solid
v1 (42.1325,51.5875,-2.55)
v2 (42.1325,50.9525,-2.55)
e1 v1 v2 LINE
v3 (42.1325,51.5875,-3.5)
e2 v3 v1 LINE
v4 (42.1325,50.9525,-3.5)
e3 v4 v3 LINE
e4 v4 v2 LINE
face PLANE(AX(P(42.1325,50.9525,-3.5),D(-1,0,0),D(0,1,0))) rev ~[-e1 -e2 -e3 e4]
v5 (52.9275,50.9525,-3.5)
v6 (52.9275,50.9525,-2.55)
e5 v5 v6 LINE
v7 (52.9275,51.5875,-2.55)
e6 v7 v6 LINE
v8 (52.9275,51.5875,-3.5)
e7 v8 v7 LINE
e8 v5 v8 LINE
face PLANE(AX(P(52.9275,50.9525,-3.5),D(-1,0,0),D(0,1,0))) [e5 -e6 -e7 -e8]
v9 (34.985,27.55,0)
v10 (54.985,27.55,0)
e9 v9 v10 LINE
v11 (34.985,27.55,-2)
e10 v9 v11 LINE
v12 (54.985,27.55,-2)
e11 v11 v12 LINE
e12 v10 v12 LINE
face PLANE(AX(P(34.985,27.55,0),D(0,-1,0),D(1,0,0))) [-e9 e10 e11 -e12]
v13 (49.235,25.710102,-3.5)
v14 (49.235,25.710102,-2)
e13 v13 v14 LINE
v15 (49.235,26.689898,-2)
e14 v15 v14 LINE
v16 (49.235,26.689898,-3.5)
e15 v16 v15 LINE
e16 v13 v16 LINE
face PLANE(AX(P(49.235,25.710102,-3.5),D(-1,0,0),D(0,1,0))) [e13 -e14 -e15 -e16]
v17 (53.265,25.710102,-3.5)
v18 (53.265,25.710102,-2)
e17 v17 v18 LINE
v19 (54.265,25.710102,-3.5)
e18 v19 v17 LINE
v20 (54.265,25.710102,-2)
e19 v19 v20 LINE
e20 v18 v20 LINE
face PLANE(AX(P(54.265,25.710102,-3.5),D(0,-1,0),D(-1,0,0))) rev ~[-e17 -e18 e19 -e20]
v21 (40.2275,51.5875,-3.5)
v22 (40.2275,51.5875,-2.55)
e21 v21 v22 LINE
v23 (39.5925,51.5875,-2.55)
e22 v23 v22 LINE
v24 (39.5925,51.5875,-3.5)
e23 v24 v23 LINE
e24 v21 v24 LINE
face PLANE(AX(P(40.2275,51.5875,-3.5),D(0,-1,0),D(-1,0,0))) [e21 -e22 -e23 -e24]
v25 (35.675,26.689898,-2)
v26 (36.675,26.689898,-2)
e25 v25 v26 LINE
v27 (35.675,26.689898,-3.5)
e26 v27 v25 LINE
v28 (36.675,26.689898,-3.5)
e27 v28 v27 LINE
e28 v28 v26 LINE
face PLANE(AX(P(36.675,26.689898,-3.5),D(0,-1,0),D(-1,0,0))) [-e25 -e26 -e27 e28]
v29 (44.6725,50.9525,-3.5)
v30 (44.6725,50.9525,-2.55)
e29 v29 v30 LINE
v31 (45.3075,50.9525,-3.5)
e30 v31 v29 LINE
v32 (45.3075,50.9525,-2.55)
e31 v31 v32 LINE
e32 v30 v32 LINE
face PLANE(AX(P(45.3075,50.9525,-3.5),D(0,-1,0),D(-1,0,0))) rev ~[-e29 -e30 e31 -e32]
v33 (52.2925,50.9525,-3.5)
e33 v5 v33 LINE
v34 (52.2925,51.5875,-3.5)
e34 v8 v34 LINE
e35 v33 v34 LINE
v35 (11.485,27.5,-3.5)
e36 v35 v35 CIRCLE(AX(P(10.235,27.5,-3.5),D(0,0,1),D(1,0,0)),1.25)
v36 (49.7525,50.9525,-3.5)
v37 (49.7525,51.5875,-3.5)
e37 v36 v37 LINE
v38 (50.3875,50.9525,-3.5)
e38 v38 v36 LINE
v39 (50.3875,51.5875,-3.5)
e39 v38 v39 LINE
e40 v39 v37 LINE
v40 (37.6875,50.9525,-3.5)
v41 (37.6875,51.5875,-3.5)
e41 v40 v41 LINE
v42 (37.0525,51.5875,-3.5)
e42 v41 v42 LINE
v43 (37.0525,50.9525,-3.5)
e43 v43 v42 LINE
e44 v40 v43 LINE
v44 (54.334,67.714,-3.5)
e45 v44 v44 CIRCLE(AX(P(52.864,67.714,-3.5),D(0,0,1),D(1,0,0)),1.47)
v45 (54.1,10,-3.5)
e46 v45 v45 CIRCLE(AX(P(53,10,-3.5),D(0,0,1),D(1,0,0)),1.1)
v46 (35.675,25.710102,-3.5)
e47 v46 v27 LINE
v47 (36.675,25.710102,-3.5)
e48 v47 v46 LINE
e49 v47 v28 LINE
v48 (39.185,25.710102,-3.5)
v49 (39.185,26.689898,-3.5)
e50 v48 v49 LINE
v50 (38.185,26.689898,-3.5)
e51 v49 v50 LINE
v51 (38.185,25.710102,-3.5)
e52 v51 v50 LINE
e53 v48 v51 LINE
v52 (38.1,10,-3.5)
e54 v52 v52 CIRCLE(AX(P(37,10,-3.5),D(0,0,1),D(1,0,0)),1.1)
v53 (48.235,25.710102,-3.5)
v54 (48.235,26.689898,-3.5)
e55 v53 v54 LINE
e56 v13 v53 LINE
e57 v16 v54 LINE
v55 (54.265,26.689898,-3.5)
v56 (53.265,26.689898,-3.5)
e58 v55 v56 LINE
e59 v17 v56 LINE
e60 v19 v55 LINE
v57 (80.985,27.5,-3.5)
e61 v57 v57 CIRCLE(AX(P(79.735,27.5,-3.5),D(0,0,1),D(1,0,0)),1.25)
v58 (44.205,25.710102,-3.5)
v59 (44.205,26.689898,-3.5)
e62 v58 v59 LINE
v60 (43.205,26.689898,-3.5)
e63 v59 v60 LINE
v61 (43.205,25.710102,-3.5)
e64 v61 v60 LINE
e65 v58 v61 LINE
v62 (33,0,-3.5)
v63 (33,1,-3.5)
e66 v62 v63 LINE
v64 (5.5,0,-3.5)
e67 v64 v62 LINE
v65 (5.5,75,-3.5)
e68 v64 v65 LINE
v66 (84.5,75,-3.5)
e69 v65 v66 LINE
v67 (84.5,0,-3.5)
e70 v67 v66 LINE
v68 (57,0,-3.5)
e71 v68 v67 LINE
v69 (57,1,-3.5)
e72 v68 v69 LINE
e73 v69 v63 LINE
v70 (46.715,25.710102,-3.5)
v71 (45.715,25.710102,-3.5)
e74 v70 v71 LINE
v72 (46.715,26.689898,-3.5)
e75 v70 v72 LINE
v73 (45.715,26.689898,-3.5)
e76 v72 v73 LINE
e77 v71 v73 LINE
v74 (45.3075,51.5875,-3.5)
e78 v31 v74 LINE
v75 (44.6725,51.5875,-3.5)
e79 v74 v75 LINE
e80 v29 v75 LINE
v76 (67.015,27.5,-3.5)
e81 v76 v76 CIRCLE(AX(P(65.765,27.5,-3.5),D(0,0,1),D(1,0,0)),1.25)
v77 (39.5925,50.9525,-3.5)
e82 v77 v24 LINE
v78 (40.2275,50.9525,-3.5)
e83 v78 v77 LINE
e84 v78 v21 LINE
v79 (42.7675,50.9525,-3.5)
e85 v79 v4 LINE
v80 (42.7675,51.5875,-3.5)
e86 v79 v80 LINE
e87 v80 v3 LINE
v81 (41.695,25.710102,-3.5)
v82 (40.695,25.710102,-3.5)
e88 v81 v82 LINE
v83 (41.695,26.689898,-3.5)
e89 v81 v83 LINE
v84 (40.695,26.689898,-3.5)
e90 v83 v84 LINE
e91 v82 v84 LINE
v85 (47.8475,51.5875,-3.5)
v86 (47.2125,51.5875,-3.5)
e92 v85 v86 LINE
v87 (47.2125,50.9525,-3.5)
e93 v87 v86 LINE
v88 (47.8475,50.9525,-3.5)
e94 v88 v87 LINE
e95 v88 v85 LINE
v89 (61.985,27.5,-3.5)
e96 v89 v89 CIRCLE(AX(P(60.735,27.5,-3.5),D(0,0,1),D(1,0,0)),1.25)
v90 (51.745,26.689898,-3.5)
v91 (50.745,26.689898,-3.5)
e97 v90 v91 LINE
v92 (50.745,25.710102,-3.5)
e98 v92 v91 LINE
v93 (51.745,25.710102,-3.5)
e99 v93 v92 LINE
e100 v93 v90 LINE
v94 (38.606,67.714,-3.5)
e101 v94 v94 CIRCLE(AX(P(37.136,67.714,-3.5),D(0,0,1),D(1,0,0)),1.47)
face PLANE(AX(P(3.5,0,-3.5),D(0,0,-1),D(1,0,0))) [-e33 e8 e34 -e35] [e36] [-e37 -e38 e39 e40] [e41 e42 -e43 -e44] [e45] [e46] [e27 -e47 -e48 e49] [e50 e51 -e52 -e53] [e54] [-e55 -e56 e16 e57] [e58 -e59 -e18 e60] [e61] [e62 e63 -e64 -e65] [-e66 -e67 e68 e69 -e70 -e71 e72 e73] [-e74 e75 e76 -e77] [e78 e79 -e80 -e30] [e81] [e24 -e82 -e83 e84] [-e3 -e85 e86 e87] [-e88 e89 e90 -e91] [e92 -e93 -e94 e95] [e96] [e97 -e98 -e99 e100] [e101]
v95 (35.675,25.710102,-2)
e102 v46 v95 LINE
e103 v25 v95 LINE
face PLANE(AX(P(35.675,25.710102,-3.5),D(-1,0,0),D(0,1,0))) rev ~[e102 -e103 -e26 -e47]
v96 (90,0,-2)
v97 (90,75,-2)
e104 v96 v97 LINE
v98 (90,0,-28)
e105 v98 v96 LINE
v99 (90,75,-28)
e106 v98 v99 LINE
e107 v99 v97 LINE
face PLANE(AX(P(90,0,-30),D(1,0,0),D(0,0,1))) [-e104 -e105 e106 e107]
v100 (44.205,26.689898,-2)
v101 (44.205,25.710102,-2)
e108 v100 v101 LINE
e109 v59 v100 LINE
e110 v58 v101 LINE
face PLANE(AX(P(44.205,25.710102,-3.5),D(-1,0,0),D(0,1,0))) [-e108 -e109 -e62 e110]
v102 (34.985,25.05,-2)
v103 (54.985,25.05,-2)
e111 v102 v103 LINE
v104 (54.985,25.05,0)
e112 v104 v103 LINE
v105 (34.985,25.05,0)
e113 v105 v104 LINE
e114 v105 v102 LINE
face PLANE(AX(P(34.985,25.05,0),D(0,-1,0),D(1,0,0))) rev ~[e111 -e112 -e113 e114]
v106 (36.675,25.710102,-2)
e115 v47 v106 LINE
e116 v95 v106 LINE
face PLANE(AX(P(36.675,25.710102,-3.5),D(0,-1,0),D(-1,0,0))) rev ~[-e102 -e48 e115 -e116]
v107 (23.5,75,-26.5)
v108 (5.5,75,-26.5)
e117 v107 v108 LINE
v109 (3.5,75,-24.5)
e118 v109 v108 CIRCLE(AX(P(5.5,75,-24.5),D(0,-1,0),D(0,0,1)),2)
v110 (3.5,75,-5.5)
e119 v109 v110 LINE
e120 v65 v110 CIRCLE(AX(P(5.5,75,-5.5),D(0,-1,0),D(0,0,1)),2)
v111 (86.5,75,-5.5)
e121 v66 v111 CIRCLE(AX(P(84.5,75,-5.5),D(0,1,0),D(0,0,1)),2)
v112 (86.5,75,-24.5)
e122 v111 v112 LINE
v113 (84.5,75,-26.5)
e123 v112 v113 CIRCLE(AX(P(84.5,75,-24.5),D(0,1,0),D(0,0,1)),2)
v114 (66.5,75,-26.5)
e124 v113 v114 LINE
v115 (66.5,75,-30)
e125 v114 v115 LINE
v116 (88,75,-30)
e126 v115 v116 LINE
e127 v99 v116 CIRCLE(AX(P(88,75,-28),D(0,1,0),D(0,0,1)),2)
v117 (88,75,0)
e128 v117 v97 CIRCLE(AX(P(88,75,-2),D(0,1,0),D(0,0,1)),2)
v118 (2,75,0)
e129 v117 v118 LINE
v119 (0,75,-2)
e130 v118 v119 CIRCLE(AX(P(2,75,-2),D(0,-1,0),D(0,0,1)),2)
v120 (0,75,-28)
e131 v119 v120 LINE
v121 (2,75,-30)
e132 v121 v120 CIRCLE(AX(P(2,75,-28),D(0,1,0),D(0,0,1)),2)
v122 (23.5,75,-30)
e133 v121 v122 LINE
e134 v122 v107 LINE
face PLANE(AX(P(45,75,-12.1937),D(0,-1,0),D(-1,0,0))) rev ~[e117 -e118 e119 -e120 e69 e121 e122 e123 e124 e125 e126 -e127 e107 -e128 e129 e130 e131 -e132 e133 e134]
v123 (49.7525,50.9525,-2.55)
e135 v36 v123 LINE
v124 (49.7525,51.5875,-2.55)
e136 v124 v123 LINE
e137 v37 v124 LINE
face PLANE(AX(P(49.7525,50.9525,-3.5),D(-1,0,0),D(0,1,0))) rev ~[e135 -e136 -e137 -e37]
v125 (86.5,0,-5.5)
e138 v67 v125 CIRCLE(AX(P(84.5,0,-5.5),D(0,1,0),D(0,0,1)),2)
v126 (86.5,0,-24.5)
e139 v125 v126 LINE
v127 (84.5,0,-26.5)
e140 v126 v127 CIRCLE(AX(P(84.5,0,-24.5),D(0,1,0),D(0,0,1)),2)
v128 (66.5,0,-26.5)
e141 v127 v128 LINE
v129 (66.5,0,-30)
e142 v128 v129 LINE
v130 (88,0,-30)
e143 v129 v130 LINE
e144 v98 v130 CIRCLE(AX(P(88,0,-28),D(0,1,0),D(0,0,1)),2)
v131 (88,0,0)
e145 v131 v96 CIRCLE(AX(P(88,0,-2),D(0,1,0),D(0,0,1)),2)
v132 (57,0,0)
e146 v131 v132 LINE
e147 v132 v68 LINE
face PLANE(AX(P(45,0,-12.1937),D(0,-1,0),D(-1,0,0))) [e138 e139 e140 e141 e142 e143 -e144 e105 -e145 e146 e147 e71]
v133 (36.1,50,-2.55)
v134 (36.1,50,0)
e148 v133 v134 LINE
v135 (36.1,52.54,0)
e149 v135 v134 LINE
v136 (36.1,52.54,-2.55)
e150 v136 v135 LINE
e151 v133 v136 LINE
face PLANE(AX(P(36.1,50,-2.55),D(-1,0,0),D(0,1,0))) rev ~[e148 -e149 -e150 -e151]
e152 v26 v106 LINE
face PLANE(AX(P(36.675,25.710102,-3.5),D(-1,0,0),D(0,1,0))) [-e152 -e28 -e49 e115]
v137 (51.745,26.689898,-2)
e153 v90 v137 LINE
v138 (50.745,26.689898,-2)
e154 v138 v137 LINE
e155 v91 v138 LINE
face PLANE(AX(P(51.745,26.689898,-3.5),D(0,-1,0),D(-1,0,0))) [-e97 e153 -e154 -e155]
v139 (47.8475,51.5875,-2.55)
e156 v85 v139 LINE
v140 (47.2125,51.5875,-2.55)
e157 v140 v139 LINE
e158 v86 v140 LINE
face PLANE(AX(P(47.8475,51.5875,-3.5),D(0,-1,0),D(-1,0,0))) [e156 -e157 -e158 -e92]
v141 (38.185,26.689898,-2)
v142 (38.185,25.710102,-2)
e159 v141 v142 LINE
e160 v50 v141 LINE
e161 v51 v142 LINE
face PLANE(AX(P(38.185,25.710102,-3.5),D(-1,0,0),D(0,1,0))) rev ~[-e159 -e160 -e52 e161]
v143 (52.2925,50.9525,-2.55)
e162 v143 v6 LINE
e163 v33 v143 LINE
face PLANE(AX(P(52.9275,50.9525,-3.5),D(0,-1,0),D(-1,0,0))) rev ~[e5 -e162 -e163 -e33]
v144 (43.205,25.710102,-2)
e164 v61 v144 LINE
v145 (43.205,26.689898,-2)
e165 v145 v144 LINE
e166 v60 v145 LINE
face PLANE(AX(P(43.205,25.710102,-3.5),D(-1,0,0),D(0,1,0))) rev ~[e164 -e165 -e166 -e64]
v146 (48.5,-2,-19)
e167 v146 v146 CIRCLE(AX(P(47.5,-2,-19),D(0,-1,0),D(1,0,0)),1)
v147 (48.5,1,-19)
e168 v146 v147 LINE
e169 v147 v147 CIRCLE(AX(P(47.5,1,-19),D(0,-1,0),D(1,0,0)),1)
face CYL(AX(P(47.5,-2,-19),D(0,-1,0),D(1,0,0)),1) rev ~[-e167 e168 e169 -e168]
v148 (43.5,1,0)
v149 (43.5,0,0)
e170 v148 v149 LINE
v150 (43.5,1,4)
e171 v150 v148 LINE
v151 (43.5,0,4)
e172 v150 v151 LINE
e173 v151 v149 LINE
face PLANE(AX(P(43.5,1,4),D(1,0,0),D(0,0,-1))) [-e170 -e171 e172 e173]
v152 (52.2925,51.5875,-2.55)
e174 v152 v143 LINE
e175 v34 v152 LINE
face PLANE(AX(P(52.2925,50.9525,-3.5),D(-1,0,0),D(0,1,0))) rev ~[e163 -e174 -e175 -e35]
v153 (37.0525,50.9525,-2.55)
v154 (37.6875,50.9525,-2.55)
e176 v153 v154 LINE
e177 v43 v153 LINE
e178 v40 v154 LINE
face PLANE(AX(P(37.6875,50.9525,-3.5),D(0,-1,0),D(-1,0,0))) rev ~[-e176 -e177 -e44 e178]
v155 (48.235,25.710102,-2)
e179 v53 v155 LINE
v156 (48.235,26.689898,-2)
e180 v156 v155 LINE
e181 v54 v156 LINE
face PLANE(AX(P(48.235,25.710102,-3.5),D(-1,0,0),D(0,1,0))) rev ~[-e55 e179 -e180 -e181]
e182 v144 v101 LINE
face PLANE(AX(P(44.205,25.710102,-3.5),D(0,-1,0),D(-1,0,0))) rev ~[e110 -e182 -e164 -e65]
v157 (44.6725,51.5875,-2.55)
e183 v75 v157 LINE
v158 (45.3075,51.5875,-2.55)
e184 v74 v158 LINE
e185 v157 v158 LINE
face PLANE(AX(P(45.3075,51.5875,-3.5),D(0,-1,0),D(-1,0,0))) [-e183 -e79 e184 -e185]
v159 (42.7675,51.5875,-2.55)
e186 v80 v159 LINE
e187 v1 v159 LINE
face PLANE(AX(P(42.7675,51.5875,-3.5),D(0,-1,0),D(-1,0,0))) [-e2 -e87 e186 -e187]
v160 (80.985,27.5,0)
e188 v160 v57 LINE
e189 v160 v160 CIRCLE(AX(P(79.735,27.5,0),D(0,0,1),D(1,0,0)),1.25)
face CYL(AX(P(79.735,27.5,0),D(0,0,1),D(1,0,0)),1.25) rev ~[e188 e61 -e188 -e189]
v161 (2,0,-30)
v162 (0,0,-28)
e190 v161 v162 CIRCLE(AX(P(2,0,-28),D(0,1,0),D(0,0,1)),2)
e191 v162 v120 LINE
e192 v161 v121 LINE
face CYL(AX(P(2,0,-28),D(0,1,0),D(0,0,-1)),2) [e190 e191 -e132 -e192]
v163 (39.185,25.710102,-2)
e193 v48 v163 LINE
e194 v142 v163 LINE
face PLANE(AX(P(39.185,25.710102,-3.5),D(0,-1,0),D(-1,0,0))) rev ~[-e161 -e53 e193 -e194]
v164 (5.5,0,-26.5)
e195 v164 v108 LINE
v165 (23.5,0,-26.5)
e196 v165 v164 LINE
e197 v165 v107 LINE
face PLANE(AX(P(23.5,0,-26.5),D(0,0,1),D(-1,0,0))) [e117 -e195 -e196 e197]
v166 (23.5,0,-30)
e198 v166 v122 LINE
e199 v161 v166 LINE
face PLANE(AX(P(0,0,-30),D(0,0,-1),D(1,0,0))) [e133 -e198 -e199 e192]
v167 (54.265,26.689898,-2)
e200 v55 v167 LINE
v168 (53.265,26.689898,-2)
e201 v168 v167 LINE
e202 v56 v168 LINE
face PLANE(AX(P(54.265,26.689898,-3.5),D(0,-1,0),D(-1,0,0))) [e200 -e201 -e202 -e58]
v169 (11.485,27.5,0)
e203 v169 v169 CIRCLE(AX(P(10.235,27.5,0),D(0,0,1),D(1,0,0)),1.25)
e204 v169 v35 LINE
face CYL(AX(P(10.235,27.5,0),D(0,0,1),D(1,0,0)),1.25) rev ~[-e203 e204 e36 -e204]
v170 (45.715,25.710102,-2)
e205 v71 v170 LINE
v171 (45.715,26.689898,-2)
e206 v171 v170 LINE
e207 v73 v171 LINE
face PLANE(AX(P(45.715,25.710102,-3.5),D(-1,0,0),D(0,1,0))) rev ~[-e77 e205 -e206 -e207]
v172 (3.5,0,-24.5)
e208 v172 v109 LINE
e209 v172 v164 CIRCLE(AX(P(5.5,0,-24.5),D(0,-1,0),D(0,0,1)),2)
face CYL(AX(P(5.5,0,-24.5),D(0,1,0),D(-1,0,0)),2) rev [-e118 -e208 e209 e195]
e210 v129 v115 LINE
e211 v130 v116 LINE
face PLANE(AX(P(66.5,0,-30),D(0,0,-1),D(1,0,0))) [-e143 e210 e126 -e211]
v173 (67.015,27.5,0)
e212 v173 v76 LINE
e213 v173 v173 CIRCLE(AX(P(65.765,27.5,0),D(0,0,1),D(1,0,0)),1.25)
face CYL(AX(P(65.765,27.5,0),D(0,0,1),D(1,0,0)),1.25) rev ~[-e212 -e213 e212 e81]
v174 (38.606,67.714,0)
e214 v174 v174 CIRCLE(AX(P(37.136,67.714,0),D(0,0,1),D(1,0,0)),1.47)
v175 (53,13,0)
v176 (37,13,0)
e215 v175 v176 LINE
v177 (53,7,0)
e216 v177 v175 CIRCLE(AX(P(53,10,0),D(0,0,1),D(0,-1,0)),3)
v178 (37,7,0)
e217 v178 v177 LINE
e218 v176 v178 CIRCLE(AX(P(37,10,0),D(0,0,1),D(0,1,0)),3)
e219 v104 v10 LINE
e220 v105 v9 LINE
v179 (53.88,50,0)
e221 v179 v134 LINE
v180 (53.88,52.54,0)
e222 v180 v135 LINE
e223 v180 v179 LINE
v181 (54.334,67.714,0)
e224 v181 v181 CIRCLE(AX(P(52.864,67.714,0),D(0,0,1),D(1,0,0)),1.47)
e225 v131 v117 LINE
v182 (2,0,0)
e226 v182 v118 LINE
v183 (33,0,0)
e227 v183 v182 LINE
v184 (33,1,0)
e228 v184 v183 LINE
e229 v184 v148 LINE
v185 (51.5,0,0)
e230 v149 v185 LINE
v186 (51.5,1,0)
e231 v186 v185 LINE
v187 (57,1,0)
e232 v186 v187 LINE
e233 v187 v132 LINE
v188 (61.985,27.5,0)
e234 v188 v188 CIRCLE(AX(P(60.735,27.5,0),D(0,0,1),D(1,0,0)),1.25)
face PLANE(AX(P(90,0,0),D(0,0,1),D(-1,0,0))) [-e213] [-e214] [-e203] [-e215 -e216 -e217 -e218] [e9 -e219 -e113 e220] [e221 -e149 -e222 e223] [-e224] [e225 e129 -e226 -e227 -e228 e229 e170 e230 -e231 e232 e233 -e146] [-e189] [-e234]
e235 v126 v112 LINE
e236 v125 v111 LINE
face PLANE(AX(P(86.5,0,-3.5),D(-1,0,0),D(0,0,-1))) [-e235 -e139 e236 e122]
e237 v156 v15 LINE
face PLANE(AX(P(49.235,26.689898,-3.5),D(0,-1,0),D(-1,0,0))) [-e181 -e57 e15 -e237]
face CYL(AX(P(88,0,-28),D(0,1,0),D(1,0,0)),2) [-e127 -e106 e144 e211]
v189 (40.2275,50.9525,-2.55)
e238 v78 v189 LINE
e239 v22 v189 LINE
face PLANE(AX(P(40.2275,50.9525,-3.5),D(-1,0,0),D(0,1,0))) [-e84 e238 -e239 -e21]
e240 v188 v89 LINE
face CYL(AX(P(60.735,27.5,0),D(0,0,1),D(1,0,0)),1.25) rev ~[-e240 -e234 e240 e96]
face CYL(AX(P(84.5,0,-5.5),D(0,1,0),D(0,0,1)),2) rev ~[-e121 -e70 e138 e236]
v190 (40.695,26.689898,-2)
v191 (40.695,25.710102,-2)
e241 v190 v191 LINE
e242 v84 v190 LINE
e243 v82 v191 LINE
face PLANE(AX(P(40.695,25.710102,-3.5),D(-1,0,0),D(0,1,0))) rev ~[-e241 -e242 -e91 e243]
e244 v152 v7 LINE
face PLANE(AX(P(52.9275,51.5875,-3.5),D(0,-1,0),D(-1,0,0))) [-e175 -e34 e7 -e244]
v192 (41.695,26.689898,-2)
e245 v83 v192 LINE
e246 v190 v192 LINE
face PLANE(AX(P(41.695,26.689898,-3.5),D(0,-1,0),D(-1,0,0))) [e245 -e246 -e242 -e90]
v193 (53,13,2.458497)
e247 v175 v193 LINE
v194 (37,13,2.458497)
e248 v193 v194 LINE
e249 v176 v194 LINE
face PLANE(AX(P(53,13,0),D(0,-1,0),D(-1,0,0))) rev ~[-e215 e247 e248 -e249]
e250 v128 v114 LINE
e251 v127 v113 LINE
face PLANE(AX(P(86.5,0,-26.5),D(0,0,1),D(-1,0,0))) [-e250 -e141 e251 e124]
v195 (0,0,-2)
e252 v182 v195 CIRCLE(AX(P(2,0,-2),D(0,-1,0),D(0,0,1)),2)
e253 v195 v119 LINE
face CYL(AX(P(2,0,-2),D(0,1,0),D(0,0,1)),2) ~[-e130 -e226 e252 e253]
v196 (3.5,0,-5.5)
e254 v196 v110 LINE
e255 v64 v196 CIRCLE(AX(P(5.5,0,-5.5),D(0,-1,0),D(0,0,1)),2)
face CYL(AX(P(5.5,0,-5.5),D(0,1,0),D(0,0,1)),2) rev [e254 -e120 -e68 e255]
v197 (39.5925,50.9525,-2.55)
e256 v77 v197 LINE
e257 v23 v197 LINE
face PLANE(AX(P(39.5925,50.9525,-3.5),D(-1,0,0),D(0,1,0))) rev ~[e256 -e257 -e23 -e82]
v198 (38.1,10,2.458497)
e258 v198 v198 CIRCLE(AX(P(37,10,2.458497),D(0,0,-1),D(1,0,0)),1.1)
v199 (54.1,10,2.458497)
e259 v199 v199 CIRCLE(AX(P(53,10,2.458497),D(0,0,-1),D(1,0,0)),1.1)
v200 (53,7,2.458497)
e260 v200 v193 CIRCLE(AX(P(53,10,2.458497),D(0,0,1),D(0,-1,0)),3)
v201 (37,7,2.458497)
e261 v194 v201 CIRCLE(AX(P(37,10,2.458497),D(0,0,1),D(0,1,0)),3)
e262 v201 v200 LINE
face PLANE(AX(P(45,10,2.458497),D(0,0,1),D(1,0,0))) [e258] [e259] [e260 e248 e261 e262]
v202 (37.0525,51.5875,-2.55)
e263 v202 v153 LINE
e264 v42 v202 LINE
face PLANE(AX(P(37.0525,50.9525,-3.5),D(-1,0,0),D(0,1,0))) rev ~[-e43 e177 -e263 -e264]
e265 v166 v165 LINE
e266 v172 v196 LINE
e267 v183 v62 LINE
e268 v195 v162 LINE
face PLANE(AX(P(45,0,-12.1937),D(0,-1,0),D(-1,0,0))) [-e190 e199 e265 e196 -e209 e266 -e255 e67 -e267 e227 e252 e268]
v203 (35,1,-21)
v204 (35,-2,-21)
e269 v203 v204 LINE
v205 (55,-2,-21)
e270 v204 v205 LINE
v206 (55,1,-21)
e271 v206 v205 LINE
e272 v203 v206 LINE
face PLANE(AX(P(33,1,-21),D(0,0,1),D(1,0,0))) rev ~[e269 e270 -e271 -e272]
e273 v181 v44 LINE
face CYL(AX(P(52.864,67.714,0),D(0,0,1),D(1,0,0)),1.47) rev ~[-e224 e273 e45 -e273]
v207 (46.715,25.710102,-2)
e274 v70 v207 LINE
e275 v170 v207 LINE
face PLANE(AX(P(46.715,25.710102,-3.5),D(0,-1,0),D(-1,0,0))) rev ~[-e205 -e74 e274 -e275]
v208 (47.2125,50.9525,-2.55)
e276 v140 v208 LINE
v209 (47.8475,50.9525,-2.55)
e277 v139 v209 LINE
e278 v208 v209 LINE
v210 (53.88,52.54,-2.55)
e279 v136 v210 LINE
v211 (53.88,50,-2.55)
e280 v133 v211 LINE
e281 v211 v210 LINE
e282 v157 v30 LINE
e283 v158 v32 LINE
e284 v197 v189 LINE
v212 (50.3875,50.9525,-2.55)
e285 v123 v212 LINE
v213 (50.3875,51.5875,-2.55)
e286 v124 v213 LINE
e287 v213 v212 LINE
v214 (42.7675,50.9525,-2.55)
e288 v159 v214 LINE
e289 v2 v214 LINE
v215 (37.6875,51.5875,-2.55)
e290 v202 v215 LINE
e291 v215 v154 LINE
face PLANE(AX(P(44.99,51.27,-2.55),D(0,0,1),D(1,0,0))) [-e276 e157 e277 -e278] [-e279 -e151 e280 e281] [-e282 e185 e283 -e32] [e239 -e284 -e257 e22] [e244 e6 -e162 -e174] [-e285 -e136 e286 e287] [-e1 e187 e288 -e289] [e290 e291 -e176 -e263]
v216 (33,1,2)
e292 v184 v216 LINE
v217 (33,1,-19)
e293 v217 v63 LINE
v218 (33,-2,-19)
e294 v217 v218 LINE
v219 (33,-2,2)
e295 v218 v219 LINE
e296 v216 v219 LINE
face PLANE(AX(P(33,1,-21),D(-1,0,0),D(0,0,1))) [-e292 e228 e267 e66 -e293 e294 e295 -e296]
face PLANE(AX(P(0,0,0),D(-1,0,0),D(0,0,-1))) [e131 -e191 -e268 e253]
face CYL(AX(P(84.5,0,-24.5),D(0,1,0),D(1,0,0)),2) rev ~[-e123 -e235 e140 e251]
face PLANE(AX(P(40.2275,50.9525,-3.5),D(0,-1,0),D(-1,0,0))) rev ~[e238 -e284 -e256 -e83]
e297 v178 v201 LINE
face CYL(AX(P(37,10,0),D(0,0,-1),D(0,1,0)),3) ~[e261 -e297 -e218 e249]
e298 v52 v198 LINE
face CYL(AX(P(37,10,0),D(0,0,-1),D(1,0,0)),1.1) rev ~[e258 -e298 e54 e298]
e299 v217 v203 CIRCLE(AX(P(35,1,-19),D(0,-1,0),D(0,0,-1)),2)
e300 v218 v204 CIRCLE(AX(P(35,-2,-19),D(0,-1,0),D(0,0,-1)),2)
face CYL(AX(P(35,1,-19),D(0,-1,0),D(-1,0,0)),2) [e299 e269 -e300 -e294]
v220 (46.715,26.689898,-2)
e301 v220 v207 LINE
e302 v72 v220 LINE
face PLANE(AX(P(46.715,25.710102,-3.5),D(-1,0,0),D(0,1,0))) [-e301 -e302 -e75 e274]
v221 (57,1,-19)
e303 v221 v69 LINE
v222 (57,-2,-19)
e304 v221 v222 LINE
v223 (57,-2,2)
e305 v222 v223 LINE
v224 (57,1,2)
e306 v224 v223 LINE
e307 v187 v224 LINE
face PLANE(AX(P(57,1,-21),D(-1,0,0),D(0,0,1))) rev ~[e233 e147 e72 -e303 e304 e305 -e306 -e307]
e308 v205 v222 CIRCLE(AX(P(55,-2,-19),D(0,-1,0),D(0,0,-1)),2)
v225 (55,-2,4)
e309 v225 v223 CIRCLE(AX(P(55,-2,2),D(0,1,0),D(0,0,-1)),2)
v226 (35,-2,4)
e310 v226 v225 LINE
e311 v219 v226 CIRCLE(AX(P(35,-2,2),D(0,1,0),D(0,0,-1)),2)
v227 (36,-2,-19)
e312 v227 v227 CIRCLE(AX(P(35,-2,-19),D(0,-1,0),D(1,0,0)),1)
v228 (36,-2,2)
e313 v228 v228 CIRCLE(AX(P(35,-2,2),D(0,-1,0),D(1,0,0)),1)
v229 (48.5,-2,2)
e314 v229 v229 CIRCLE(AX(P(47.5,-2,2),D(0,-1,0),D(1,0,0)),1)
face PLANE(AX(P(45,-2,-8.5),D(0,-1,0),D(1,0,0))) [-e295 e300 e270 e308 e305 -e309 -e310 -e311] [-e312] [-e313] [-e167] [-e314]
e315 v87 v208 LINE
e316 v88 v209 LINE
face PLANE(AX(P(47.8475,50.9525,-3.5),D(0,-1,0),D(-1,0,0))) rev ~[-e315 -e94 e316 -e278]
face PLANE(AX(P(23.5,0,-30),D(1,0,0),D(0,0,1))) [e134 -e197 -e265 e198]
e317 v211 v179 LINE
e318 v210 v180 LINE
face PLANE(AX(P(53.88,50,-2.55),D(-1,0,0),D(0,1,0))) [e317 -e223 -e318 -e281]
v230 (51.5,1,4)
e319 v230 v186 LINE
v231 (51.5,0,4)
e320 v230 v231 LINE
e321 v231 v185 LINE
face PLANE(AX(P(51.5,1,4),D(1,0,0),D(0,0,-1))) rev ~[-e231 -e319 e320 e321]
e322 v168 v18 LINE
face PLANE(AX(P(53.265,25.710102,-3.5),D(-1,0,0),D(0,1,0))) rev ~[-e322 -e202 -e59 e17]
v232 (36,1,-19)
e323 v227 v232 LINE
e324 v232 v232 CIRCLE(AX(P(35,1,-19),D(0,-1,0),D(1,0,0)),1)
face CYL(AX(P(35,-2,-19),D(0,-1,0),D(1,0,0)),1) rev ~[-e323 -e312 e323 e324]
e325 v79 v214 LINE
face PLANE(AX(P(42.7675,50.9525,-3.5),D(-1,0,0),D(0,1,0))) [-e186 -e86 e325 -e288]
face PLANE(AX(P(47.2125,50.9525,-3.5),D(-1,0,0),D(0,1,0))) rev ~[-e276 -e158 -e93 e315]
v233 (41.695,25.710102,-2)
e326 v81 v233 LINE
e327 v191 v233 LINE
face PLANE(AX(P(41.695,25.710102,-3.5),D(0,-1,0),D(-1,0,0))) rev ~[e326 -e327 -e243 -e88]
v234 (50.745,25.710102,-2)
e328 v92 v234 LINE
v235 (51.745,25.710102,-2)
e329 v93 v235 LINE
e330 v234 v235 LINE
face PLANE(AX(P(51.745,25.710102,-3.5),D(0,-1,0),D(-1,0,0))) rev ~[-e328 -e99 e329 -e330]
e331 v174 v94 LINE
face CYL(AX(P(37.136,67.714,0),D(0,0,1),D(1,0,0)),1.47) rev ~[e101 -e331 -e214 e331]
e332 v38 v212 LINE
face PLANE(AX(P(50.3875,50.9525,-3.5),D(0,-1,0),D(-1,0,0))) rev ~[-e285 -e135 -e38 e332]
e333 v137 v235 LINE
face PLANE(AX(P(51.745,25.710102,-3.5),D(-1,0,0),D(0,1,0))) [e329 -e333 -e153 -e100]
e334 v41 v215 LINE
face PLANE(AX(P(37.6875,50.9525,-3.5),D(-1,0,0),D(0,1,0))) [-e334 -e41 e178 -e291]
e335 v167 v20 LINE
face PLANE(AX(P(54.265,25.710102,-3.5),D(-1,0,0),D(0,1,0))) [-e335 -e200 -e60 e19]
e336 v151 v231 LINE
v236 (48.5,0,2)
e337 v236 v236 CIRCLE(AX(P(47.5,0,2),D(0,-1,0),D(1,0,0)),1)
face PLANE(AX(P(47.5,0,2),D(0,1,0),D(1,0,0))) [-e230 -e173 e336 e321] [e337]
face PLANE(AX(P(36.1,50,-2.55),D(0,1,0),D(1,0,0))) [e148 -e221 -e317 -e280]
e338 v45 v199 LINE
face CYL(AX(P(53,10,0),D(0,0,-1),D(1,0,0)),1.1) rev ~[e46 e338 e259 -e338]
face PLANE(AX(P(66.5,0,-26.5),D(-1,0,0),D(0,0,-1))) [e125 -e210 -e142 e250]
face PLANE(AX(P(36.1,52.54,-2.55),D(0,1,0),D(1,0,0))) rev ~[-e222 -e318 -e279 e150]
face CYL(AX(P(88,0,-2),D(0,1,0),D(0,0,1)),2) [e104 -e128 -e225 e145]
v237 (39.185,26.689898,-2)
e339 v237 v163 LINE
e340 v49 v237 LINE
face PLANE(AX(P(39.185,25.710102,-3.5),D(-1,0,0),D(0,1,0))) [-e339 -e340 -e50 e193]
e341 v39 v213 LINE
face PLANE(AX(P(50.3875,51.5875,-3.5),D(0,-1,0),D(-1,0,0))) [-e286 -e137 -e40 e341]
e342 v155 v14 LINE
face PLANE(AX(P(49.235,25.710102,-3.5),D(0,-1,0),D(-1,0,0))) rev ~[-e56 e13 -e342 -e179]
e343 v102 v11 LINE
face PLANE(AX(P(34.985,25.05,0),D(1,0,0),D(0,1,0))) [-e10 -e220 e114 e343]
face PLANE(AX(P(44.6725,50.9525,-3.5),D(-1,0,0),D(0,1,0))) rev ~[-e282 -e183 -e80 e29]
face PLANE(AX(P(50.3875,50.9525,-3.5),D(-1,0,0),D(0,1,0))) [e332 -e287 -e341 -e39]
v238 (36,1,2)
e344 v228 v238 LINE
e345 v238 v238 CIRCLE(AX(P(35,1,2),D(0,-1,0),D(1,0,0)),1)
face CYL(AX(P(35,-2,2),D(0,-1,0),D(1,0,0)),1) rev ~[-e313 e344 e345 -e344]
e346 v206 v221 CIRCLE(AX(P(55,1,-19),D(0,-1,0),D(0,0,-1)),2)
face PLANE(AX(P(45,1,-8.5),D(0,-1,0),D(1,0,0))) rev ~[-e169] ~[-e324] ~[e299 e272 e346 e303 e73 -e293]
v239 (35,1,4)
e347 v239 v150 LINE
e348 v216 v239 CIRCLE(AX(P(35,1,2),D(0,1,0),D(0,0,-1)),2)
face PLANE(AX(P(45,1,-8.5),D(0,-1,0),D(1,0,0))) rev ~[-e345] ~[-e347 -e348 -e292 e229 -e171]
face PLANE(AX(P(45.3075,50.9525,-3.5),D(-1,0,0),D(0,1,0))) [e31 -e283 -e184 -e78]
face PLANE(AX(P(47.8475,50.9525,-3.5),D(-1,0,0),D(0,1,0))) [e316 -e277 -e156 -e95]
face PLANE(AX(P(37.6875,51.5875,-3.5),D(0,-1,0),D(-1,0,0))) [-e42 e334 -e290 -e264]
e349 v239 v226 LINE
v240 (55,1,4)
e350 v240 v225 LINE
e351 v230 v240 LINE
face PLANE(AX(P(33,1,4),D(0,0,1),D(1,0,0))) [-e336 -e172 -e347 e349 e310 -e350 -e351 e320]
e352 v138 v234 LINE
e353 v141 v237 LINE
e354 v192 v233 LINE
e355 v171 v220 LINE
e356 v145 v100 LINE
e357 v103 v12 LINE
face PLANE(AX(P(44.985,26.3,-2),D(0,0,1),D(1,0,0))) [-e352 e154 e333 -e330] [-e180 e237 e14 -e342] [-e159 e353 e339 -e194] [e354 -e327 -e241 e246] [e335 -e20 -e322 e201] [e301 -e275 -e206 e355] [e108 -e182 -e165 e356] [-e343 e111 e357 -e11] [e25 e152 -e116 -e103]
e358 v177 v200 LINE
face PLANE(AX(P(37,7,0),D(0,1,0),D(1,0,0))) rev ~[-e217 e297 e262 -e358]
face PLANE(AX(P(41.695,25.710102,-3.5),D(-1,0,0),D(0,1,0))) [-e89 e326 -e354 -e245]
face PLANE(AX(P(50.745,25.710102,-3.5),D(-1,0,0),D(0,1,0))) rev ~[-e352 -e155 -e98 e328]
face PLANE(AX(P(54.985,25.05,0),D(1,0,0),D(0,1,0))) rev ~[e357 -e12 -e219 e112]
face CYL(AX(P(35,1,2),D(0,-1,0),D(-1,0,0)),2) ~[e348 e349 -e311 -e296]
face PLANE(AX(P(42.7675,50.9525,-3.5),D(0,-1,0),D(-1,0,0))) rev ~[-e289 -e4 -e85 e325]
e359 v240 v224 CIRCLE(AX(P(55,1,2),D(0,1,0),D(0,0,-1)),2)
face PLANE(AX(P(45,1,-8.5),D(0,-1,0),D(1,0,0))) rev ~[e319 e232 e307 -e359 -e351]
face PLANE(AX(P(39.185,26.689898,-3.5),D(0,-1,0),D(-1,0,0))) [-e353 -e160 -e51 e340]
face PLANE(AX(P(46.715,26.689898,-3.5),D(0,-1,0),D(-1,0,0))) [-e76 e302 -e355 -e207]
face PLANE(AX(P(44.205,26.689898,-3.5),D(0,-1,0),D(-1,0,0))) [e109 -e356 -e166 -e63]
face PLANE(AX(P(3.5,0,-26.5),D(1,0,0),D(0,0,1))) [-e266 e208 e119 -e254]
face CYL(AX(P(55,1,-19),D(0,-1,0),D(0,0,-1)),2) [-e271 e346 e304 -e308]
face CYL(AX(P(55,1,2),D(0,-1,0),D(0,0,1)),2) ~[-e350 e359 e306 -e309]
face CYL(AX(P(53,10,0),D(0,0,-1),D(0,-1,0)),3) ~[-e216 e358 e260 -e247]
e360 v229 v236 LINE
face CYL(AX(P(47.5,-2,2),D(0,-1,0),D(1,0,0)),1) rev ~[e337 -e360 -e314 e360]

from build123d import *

# Parameters (mm, degrees)
BOSS_EXTRUDE1_DEPTH      = 75
SKETCH2_R                = 1.1
CUT_EXTRUDE1_DEPTH       = 121.933866224
BOSS_EXTRUDE2_DEPTH      = 2.458497378
SKETCH4_R                = 1.1
CUT_EXTRUDE2_DEPTH       = 121.933866224
SKETCH5_W                = 20
SKETCH5_H                = 2.5
CUT_EXTRUDE3_DEPTH       = 2
CUT_EXTRUDE4_DEPTH       = 121.933866224
CUT_EXTRUDE4_DEPTH_BACK  = 2.55
SKETCH6_W                = 17.78
SKETCH6_H                = 2.54
SKETCH7_W                = 1
SKETCH7_H                = 0.979795898
CUT_EXTRUDE5_DEPTH       = 121.113488002
SKETCH8_W                = 0.635
SKETCH8_H                = 0.635
CUT_EXTRUDE6_DEPTH       = 121.113488002
BOSS_EXTRUDE3_DEPTH      = 2
BOSS_EXTRUDE3_DEPTH_BACK = 1
SKETCH9_W                = 24
SKETCH9_H                = 25
FILLET1_R                = 2
SKETCH10_R               = 1
CUT_EXTRUDE7_DEPTH       = 4
SKETCH11_W               = 8
SKETCH11_H               = 4
CUT_EXTRUDE8_DEPTH       = 1
FILLET2_R                = 2
SKETCH12_R               = 1.25
SKETCH12_R_2             = 1.47
CUT_EXTRUDE10_DEPTH      = 3.5


with BuildPart() as part:
    # Sketch1 → Boss-Extrude1 (new body)
    with BuildSketch(Plane(origin=(0, 0, 0), x_dir=(1, 0, 0), z_dir=(0, 1, 0))):
        Polygon((23.5, 30), (23.5, 26.5), (3.5, 26.5), (3.5, 3.5), (86.5, 3.5), (86.5, 26.5), (66.5, 26.5), (66.5, 30), (90, 30), (90, 0), (0, 0), (0, 30), align=None)
    extrude(amount=BOSS_EXTRUDE1_DEPTH)

    # Sketch2 → Cut-Extrude1 (cut, through all)
    with BuildSketch(Plane.XY):
        with Locations((53, 10)):
            Circle(SKETCH2_R)
        with Locations((37, 10)):
            Circle(SKETCH2_R)
    extrude(amount=-CUT_EXTRUDE1_DEPTH, mode=Mode.SUBTRACT)

    # Sketch3 → Boss-Extrude2 (add)
    with BuildSketch(Plane.XY):
        with BuildLine():
            Line((53, 13), (37, 13))
            ThreePointArc((37, 13), (34, 10), (37, 7))
            Line((37, 7), (53, 7))
            ThreePointArc((53, 7), (56, 10), (53, 13))
        make_face()
    extrude(amount=BOSS_EXTRUDE2_DEPTH)

    # Sketch4 → Cut-Extrude2 (cut, through all)
    with BuildSketch(Plane(origin=(0, 0, 0), x_dir=(-1, 0, 0), z_dir=(0, 0, -1))):
        with Locations(Location((-37, 10, 0), (0, 0, 180))):
            Circle(SKETCH4_R)
        with Locations(Location((-53, 10, 0), (0, 0, 180))):
            Circle(SKETCH4_R)
    extrude(amount=-CUT_EXTRUDE2_DEPTH, mode=Mode.SUBTRACT)

    # Sketch5 → Cut-Extrude3 (cut)
    with BuildSketch(Plane.XY):
        with Locations((44.985, 26.3)):
            Rectangle(SKETCH5_W, SKETCH5_H)
    extrude(amount=-CUT_EXTRUDE3_DEPTH, mode=Mode.SUBTRACT)

    # Sketch6 → Cut-Extrude4 (cut, two sides: drawn at the far end of the back side and taken through both)
    with BuildSketch(Plane.XY.offset(-CUT_EXTRUDE4_DEPTH_BACK)):
        with Locations((44.99, 51.27)):
            Rectangle(SKETCH6_W, SKETCH6_H)
    extrude(amount=CUT_EXTRUDE4_DEPTH + CUT_EXTRUDE4_DEPTH_BACK, mode=Mode.SUBTRACT)

    # Sketch7 → Cut-Extrude5 (cut, through all)
    with BuildSketch(Plane(origin=(0, 0, -3.5), x_dir=(-1, 0, 0), z_dir=(0, 0, -1))):
        with Locations((-53.765, 26.2)):
            Rectangle(SKETCH7_W, SKETCH7_H)
        with Locations((-51.245, 26.2)):
            Rectangle(SKETCH7_W, SKETCH7_H)
        with Locations((-48.735, 26.2)):
            Rectangle(SKETCH7_W, SKETCH7_H)
        with Locations((-46.215, 26.2)):
            Rectangle(SKETCH7_W, SKETCH7_H)
        with Locations((-43.705, 26.2)):
            Rectangle(SKETCH7_W, SKETCH7_H)
        with Locations((-41.195, 26.2)):
            Rectangle(SKETCH7_W, SKETCH7_H)
        with Locations((-38.685, 26.2)):
            Rectangle(SKETCH7_W, SKETCH7_H)
        with Locations((-36.175, 26.2)):
            Rectangle(SKETCH7_W, SKETCH7_H)
    extrude(amount=-CUT_EXTRUDE5_DEPTH, mode=Mode.SUBTRACT)

    # Sketch8 → Cut-Extrude6 (cut, through all)
    with BuildSketch(Plane(origin=(0, 0, -3.5), x_dir=(-1, 0, 0), z_dir=(0, 0, -1))):
        with Locations((-52.61, 51.27)):
            Rectangle(SKETCH8_W, SKETCH8_H)
        with Locations((-50.07, 51.27)):
            Rectangle(SKETCH8_W, SKETCH8_H)
        with Locations((-47.53, 51.27)):
            Rectangle(SKETCH8_W, SKETCH8_H)
        with Locations((-44.99, 51.27)):
            Rectangle(SKETCH8_W, SKETCH8_H)
        with Locations((-42.45, 51.27)):
            Rectangle(SKETCH8_W, SKETCH8_H)
        with Locations((-39.91, 51.27)):
            Rectangle(SKETCH8_W, SKETCH8_H)
        with Locations((-37.37, 51.27)):
            Rectangle(SKETCH8_W, SKETCH8_H)
    extrude(amount=-CUT_EXTRUDE6_DEPTH, mode=Mode.SUBTRACT)

    # Sketch9 → Boss-Extrude3 (add, two sides: drawn at the far end of the back side and taken through both)
    with BuildSketch(Plane.XZ.offset(-BOSS_EXTRUDE3_DEPTH_BACK)):
        with Locations((45, -8.5)):
            Rectangle(SKETCH9_W, SKETCH9_H)
    extrude(amount=BOSS_EXTRUDE3_DEPTH + BOSS_EXTRUDE3_DEPTH_BACK)

    # Fillet1
    fillet1_edges = [part.edges().sort_by_distance(p)[0] for p in [
        (57, -0.5, 4),
        (33, -0.5, -21),
        (57, -0.5, -21),
        (33, -0.5, 4),
    ]]
    fillet(fillet1_edges, radius=FILLET1_R)

    # Sketch10 → Cut-Extrude7 (cut)
    with BuildSketch(Plane.XZ.offset(2)):
        with Locations((47.5, -19)):
            Circle(SKETCH10_R)
        with Locations((35, -19)):
            Circle(SKETCH10_R)
        with Locations((47.5, 2)):
            Circle(SKETCH10_R)
        with Locations((35, 2)):
            Circle(SKETCH10_R)
    extrude(amount=-CUT_EXTRUDE7_DEPTH, mode=Mode.SUBTRACT)

    # Sketch11 → Cut-Extrude8 (cut)
    with BuildSketch(Plane(origin=(0, 1, 0), x_dir=(1, 0, 0), z_dir=(0, 1, 0))):
        with Locations((47.5, -2)):
            Rectangle(SKETCH11_W, SKETCH11_H)
    extrude(amount=-CUT_EXTRUDE8_DEPTH, mode=Mode.SUBTRACT)

    # Fillet2
    fillet2_edges = [part.edges().sort_by_distance(p)[0] for p in [
        (0, 37.5, -30),
        (3.5, 37.5, -26.5),
        (3.5, 37.5, -3.5),
        (86.5, 37.5, -3.5),
        (86.5, 37.5, -26.5),
        (90, 37.5, -30),
        (90, 37.5, 0),
        (0, 37.5, 0),
    ]]
    fillet(fillet2_edges, radius=FILLET2_R)

    # Sketch12 → Cut-Extrude10 (cut)
    with BuildSketch(Plane.XY):
        with Locations((79.735, 27.5)):
            Circle(SKETCH12_R)
        with Locations((65.765, 27.5)):
            Circle(SKETCH12_R)
        with Locations((60.735, 27.5)):
            Circle(SKETCH12_R)
        with Locations((10.235, 27.5)):
            Circle(SKETCH12_R)
        with Locations((52.864, 67.714)):
            Circle(SKETCH12_R_2)
        with Locations((37.136, 67.714)):
            Circle(SKETCH12_R_2)
    extrude(amount=-CUT_EXTRUDE10_DEPTH, mode=Mode.SUBTRACT)


solid = part.part
